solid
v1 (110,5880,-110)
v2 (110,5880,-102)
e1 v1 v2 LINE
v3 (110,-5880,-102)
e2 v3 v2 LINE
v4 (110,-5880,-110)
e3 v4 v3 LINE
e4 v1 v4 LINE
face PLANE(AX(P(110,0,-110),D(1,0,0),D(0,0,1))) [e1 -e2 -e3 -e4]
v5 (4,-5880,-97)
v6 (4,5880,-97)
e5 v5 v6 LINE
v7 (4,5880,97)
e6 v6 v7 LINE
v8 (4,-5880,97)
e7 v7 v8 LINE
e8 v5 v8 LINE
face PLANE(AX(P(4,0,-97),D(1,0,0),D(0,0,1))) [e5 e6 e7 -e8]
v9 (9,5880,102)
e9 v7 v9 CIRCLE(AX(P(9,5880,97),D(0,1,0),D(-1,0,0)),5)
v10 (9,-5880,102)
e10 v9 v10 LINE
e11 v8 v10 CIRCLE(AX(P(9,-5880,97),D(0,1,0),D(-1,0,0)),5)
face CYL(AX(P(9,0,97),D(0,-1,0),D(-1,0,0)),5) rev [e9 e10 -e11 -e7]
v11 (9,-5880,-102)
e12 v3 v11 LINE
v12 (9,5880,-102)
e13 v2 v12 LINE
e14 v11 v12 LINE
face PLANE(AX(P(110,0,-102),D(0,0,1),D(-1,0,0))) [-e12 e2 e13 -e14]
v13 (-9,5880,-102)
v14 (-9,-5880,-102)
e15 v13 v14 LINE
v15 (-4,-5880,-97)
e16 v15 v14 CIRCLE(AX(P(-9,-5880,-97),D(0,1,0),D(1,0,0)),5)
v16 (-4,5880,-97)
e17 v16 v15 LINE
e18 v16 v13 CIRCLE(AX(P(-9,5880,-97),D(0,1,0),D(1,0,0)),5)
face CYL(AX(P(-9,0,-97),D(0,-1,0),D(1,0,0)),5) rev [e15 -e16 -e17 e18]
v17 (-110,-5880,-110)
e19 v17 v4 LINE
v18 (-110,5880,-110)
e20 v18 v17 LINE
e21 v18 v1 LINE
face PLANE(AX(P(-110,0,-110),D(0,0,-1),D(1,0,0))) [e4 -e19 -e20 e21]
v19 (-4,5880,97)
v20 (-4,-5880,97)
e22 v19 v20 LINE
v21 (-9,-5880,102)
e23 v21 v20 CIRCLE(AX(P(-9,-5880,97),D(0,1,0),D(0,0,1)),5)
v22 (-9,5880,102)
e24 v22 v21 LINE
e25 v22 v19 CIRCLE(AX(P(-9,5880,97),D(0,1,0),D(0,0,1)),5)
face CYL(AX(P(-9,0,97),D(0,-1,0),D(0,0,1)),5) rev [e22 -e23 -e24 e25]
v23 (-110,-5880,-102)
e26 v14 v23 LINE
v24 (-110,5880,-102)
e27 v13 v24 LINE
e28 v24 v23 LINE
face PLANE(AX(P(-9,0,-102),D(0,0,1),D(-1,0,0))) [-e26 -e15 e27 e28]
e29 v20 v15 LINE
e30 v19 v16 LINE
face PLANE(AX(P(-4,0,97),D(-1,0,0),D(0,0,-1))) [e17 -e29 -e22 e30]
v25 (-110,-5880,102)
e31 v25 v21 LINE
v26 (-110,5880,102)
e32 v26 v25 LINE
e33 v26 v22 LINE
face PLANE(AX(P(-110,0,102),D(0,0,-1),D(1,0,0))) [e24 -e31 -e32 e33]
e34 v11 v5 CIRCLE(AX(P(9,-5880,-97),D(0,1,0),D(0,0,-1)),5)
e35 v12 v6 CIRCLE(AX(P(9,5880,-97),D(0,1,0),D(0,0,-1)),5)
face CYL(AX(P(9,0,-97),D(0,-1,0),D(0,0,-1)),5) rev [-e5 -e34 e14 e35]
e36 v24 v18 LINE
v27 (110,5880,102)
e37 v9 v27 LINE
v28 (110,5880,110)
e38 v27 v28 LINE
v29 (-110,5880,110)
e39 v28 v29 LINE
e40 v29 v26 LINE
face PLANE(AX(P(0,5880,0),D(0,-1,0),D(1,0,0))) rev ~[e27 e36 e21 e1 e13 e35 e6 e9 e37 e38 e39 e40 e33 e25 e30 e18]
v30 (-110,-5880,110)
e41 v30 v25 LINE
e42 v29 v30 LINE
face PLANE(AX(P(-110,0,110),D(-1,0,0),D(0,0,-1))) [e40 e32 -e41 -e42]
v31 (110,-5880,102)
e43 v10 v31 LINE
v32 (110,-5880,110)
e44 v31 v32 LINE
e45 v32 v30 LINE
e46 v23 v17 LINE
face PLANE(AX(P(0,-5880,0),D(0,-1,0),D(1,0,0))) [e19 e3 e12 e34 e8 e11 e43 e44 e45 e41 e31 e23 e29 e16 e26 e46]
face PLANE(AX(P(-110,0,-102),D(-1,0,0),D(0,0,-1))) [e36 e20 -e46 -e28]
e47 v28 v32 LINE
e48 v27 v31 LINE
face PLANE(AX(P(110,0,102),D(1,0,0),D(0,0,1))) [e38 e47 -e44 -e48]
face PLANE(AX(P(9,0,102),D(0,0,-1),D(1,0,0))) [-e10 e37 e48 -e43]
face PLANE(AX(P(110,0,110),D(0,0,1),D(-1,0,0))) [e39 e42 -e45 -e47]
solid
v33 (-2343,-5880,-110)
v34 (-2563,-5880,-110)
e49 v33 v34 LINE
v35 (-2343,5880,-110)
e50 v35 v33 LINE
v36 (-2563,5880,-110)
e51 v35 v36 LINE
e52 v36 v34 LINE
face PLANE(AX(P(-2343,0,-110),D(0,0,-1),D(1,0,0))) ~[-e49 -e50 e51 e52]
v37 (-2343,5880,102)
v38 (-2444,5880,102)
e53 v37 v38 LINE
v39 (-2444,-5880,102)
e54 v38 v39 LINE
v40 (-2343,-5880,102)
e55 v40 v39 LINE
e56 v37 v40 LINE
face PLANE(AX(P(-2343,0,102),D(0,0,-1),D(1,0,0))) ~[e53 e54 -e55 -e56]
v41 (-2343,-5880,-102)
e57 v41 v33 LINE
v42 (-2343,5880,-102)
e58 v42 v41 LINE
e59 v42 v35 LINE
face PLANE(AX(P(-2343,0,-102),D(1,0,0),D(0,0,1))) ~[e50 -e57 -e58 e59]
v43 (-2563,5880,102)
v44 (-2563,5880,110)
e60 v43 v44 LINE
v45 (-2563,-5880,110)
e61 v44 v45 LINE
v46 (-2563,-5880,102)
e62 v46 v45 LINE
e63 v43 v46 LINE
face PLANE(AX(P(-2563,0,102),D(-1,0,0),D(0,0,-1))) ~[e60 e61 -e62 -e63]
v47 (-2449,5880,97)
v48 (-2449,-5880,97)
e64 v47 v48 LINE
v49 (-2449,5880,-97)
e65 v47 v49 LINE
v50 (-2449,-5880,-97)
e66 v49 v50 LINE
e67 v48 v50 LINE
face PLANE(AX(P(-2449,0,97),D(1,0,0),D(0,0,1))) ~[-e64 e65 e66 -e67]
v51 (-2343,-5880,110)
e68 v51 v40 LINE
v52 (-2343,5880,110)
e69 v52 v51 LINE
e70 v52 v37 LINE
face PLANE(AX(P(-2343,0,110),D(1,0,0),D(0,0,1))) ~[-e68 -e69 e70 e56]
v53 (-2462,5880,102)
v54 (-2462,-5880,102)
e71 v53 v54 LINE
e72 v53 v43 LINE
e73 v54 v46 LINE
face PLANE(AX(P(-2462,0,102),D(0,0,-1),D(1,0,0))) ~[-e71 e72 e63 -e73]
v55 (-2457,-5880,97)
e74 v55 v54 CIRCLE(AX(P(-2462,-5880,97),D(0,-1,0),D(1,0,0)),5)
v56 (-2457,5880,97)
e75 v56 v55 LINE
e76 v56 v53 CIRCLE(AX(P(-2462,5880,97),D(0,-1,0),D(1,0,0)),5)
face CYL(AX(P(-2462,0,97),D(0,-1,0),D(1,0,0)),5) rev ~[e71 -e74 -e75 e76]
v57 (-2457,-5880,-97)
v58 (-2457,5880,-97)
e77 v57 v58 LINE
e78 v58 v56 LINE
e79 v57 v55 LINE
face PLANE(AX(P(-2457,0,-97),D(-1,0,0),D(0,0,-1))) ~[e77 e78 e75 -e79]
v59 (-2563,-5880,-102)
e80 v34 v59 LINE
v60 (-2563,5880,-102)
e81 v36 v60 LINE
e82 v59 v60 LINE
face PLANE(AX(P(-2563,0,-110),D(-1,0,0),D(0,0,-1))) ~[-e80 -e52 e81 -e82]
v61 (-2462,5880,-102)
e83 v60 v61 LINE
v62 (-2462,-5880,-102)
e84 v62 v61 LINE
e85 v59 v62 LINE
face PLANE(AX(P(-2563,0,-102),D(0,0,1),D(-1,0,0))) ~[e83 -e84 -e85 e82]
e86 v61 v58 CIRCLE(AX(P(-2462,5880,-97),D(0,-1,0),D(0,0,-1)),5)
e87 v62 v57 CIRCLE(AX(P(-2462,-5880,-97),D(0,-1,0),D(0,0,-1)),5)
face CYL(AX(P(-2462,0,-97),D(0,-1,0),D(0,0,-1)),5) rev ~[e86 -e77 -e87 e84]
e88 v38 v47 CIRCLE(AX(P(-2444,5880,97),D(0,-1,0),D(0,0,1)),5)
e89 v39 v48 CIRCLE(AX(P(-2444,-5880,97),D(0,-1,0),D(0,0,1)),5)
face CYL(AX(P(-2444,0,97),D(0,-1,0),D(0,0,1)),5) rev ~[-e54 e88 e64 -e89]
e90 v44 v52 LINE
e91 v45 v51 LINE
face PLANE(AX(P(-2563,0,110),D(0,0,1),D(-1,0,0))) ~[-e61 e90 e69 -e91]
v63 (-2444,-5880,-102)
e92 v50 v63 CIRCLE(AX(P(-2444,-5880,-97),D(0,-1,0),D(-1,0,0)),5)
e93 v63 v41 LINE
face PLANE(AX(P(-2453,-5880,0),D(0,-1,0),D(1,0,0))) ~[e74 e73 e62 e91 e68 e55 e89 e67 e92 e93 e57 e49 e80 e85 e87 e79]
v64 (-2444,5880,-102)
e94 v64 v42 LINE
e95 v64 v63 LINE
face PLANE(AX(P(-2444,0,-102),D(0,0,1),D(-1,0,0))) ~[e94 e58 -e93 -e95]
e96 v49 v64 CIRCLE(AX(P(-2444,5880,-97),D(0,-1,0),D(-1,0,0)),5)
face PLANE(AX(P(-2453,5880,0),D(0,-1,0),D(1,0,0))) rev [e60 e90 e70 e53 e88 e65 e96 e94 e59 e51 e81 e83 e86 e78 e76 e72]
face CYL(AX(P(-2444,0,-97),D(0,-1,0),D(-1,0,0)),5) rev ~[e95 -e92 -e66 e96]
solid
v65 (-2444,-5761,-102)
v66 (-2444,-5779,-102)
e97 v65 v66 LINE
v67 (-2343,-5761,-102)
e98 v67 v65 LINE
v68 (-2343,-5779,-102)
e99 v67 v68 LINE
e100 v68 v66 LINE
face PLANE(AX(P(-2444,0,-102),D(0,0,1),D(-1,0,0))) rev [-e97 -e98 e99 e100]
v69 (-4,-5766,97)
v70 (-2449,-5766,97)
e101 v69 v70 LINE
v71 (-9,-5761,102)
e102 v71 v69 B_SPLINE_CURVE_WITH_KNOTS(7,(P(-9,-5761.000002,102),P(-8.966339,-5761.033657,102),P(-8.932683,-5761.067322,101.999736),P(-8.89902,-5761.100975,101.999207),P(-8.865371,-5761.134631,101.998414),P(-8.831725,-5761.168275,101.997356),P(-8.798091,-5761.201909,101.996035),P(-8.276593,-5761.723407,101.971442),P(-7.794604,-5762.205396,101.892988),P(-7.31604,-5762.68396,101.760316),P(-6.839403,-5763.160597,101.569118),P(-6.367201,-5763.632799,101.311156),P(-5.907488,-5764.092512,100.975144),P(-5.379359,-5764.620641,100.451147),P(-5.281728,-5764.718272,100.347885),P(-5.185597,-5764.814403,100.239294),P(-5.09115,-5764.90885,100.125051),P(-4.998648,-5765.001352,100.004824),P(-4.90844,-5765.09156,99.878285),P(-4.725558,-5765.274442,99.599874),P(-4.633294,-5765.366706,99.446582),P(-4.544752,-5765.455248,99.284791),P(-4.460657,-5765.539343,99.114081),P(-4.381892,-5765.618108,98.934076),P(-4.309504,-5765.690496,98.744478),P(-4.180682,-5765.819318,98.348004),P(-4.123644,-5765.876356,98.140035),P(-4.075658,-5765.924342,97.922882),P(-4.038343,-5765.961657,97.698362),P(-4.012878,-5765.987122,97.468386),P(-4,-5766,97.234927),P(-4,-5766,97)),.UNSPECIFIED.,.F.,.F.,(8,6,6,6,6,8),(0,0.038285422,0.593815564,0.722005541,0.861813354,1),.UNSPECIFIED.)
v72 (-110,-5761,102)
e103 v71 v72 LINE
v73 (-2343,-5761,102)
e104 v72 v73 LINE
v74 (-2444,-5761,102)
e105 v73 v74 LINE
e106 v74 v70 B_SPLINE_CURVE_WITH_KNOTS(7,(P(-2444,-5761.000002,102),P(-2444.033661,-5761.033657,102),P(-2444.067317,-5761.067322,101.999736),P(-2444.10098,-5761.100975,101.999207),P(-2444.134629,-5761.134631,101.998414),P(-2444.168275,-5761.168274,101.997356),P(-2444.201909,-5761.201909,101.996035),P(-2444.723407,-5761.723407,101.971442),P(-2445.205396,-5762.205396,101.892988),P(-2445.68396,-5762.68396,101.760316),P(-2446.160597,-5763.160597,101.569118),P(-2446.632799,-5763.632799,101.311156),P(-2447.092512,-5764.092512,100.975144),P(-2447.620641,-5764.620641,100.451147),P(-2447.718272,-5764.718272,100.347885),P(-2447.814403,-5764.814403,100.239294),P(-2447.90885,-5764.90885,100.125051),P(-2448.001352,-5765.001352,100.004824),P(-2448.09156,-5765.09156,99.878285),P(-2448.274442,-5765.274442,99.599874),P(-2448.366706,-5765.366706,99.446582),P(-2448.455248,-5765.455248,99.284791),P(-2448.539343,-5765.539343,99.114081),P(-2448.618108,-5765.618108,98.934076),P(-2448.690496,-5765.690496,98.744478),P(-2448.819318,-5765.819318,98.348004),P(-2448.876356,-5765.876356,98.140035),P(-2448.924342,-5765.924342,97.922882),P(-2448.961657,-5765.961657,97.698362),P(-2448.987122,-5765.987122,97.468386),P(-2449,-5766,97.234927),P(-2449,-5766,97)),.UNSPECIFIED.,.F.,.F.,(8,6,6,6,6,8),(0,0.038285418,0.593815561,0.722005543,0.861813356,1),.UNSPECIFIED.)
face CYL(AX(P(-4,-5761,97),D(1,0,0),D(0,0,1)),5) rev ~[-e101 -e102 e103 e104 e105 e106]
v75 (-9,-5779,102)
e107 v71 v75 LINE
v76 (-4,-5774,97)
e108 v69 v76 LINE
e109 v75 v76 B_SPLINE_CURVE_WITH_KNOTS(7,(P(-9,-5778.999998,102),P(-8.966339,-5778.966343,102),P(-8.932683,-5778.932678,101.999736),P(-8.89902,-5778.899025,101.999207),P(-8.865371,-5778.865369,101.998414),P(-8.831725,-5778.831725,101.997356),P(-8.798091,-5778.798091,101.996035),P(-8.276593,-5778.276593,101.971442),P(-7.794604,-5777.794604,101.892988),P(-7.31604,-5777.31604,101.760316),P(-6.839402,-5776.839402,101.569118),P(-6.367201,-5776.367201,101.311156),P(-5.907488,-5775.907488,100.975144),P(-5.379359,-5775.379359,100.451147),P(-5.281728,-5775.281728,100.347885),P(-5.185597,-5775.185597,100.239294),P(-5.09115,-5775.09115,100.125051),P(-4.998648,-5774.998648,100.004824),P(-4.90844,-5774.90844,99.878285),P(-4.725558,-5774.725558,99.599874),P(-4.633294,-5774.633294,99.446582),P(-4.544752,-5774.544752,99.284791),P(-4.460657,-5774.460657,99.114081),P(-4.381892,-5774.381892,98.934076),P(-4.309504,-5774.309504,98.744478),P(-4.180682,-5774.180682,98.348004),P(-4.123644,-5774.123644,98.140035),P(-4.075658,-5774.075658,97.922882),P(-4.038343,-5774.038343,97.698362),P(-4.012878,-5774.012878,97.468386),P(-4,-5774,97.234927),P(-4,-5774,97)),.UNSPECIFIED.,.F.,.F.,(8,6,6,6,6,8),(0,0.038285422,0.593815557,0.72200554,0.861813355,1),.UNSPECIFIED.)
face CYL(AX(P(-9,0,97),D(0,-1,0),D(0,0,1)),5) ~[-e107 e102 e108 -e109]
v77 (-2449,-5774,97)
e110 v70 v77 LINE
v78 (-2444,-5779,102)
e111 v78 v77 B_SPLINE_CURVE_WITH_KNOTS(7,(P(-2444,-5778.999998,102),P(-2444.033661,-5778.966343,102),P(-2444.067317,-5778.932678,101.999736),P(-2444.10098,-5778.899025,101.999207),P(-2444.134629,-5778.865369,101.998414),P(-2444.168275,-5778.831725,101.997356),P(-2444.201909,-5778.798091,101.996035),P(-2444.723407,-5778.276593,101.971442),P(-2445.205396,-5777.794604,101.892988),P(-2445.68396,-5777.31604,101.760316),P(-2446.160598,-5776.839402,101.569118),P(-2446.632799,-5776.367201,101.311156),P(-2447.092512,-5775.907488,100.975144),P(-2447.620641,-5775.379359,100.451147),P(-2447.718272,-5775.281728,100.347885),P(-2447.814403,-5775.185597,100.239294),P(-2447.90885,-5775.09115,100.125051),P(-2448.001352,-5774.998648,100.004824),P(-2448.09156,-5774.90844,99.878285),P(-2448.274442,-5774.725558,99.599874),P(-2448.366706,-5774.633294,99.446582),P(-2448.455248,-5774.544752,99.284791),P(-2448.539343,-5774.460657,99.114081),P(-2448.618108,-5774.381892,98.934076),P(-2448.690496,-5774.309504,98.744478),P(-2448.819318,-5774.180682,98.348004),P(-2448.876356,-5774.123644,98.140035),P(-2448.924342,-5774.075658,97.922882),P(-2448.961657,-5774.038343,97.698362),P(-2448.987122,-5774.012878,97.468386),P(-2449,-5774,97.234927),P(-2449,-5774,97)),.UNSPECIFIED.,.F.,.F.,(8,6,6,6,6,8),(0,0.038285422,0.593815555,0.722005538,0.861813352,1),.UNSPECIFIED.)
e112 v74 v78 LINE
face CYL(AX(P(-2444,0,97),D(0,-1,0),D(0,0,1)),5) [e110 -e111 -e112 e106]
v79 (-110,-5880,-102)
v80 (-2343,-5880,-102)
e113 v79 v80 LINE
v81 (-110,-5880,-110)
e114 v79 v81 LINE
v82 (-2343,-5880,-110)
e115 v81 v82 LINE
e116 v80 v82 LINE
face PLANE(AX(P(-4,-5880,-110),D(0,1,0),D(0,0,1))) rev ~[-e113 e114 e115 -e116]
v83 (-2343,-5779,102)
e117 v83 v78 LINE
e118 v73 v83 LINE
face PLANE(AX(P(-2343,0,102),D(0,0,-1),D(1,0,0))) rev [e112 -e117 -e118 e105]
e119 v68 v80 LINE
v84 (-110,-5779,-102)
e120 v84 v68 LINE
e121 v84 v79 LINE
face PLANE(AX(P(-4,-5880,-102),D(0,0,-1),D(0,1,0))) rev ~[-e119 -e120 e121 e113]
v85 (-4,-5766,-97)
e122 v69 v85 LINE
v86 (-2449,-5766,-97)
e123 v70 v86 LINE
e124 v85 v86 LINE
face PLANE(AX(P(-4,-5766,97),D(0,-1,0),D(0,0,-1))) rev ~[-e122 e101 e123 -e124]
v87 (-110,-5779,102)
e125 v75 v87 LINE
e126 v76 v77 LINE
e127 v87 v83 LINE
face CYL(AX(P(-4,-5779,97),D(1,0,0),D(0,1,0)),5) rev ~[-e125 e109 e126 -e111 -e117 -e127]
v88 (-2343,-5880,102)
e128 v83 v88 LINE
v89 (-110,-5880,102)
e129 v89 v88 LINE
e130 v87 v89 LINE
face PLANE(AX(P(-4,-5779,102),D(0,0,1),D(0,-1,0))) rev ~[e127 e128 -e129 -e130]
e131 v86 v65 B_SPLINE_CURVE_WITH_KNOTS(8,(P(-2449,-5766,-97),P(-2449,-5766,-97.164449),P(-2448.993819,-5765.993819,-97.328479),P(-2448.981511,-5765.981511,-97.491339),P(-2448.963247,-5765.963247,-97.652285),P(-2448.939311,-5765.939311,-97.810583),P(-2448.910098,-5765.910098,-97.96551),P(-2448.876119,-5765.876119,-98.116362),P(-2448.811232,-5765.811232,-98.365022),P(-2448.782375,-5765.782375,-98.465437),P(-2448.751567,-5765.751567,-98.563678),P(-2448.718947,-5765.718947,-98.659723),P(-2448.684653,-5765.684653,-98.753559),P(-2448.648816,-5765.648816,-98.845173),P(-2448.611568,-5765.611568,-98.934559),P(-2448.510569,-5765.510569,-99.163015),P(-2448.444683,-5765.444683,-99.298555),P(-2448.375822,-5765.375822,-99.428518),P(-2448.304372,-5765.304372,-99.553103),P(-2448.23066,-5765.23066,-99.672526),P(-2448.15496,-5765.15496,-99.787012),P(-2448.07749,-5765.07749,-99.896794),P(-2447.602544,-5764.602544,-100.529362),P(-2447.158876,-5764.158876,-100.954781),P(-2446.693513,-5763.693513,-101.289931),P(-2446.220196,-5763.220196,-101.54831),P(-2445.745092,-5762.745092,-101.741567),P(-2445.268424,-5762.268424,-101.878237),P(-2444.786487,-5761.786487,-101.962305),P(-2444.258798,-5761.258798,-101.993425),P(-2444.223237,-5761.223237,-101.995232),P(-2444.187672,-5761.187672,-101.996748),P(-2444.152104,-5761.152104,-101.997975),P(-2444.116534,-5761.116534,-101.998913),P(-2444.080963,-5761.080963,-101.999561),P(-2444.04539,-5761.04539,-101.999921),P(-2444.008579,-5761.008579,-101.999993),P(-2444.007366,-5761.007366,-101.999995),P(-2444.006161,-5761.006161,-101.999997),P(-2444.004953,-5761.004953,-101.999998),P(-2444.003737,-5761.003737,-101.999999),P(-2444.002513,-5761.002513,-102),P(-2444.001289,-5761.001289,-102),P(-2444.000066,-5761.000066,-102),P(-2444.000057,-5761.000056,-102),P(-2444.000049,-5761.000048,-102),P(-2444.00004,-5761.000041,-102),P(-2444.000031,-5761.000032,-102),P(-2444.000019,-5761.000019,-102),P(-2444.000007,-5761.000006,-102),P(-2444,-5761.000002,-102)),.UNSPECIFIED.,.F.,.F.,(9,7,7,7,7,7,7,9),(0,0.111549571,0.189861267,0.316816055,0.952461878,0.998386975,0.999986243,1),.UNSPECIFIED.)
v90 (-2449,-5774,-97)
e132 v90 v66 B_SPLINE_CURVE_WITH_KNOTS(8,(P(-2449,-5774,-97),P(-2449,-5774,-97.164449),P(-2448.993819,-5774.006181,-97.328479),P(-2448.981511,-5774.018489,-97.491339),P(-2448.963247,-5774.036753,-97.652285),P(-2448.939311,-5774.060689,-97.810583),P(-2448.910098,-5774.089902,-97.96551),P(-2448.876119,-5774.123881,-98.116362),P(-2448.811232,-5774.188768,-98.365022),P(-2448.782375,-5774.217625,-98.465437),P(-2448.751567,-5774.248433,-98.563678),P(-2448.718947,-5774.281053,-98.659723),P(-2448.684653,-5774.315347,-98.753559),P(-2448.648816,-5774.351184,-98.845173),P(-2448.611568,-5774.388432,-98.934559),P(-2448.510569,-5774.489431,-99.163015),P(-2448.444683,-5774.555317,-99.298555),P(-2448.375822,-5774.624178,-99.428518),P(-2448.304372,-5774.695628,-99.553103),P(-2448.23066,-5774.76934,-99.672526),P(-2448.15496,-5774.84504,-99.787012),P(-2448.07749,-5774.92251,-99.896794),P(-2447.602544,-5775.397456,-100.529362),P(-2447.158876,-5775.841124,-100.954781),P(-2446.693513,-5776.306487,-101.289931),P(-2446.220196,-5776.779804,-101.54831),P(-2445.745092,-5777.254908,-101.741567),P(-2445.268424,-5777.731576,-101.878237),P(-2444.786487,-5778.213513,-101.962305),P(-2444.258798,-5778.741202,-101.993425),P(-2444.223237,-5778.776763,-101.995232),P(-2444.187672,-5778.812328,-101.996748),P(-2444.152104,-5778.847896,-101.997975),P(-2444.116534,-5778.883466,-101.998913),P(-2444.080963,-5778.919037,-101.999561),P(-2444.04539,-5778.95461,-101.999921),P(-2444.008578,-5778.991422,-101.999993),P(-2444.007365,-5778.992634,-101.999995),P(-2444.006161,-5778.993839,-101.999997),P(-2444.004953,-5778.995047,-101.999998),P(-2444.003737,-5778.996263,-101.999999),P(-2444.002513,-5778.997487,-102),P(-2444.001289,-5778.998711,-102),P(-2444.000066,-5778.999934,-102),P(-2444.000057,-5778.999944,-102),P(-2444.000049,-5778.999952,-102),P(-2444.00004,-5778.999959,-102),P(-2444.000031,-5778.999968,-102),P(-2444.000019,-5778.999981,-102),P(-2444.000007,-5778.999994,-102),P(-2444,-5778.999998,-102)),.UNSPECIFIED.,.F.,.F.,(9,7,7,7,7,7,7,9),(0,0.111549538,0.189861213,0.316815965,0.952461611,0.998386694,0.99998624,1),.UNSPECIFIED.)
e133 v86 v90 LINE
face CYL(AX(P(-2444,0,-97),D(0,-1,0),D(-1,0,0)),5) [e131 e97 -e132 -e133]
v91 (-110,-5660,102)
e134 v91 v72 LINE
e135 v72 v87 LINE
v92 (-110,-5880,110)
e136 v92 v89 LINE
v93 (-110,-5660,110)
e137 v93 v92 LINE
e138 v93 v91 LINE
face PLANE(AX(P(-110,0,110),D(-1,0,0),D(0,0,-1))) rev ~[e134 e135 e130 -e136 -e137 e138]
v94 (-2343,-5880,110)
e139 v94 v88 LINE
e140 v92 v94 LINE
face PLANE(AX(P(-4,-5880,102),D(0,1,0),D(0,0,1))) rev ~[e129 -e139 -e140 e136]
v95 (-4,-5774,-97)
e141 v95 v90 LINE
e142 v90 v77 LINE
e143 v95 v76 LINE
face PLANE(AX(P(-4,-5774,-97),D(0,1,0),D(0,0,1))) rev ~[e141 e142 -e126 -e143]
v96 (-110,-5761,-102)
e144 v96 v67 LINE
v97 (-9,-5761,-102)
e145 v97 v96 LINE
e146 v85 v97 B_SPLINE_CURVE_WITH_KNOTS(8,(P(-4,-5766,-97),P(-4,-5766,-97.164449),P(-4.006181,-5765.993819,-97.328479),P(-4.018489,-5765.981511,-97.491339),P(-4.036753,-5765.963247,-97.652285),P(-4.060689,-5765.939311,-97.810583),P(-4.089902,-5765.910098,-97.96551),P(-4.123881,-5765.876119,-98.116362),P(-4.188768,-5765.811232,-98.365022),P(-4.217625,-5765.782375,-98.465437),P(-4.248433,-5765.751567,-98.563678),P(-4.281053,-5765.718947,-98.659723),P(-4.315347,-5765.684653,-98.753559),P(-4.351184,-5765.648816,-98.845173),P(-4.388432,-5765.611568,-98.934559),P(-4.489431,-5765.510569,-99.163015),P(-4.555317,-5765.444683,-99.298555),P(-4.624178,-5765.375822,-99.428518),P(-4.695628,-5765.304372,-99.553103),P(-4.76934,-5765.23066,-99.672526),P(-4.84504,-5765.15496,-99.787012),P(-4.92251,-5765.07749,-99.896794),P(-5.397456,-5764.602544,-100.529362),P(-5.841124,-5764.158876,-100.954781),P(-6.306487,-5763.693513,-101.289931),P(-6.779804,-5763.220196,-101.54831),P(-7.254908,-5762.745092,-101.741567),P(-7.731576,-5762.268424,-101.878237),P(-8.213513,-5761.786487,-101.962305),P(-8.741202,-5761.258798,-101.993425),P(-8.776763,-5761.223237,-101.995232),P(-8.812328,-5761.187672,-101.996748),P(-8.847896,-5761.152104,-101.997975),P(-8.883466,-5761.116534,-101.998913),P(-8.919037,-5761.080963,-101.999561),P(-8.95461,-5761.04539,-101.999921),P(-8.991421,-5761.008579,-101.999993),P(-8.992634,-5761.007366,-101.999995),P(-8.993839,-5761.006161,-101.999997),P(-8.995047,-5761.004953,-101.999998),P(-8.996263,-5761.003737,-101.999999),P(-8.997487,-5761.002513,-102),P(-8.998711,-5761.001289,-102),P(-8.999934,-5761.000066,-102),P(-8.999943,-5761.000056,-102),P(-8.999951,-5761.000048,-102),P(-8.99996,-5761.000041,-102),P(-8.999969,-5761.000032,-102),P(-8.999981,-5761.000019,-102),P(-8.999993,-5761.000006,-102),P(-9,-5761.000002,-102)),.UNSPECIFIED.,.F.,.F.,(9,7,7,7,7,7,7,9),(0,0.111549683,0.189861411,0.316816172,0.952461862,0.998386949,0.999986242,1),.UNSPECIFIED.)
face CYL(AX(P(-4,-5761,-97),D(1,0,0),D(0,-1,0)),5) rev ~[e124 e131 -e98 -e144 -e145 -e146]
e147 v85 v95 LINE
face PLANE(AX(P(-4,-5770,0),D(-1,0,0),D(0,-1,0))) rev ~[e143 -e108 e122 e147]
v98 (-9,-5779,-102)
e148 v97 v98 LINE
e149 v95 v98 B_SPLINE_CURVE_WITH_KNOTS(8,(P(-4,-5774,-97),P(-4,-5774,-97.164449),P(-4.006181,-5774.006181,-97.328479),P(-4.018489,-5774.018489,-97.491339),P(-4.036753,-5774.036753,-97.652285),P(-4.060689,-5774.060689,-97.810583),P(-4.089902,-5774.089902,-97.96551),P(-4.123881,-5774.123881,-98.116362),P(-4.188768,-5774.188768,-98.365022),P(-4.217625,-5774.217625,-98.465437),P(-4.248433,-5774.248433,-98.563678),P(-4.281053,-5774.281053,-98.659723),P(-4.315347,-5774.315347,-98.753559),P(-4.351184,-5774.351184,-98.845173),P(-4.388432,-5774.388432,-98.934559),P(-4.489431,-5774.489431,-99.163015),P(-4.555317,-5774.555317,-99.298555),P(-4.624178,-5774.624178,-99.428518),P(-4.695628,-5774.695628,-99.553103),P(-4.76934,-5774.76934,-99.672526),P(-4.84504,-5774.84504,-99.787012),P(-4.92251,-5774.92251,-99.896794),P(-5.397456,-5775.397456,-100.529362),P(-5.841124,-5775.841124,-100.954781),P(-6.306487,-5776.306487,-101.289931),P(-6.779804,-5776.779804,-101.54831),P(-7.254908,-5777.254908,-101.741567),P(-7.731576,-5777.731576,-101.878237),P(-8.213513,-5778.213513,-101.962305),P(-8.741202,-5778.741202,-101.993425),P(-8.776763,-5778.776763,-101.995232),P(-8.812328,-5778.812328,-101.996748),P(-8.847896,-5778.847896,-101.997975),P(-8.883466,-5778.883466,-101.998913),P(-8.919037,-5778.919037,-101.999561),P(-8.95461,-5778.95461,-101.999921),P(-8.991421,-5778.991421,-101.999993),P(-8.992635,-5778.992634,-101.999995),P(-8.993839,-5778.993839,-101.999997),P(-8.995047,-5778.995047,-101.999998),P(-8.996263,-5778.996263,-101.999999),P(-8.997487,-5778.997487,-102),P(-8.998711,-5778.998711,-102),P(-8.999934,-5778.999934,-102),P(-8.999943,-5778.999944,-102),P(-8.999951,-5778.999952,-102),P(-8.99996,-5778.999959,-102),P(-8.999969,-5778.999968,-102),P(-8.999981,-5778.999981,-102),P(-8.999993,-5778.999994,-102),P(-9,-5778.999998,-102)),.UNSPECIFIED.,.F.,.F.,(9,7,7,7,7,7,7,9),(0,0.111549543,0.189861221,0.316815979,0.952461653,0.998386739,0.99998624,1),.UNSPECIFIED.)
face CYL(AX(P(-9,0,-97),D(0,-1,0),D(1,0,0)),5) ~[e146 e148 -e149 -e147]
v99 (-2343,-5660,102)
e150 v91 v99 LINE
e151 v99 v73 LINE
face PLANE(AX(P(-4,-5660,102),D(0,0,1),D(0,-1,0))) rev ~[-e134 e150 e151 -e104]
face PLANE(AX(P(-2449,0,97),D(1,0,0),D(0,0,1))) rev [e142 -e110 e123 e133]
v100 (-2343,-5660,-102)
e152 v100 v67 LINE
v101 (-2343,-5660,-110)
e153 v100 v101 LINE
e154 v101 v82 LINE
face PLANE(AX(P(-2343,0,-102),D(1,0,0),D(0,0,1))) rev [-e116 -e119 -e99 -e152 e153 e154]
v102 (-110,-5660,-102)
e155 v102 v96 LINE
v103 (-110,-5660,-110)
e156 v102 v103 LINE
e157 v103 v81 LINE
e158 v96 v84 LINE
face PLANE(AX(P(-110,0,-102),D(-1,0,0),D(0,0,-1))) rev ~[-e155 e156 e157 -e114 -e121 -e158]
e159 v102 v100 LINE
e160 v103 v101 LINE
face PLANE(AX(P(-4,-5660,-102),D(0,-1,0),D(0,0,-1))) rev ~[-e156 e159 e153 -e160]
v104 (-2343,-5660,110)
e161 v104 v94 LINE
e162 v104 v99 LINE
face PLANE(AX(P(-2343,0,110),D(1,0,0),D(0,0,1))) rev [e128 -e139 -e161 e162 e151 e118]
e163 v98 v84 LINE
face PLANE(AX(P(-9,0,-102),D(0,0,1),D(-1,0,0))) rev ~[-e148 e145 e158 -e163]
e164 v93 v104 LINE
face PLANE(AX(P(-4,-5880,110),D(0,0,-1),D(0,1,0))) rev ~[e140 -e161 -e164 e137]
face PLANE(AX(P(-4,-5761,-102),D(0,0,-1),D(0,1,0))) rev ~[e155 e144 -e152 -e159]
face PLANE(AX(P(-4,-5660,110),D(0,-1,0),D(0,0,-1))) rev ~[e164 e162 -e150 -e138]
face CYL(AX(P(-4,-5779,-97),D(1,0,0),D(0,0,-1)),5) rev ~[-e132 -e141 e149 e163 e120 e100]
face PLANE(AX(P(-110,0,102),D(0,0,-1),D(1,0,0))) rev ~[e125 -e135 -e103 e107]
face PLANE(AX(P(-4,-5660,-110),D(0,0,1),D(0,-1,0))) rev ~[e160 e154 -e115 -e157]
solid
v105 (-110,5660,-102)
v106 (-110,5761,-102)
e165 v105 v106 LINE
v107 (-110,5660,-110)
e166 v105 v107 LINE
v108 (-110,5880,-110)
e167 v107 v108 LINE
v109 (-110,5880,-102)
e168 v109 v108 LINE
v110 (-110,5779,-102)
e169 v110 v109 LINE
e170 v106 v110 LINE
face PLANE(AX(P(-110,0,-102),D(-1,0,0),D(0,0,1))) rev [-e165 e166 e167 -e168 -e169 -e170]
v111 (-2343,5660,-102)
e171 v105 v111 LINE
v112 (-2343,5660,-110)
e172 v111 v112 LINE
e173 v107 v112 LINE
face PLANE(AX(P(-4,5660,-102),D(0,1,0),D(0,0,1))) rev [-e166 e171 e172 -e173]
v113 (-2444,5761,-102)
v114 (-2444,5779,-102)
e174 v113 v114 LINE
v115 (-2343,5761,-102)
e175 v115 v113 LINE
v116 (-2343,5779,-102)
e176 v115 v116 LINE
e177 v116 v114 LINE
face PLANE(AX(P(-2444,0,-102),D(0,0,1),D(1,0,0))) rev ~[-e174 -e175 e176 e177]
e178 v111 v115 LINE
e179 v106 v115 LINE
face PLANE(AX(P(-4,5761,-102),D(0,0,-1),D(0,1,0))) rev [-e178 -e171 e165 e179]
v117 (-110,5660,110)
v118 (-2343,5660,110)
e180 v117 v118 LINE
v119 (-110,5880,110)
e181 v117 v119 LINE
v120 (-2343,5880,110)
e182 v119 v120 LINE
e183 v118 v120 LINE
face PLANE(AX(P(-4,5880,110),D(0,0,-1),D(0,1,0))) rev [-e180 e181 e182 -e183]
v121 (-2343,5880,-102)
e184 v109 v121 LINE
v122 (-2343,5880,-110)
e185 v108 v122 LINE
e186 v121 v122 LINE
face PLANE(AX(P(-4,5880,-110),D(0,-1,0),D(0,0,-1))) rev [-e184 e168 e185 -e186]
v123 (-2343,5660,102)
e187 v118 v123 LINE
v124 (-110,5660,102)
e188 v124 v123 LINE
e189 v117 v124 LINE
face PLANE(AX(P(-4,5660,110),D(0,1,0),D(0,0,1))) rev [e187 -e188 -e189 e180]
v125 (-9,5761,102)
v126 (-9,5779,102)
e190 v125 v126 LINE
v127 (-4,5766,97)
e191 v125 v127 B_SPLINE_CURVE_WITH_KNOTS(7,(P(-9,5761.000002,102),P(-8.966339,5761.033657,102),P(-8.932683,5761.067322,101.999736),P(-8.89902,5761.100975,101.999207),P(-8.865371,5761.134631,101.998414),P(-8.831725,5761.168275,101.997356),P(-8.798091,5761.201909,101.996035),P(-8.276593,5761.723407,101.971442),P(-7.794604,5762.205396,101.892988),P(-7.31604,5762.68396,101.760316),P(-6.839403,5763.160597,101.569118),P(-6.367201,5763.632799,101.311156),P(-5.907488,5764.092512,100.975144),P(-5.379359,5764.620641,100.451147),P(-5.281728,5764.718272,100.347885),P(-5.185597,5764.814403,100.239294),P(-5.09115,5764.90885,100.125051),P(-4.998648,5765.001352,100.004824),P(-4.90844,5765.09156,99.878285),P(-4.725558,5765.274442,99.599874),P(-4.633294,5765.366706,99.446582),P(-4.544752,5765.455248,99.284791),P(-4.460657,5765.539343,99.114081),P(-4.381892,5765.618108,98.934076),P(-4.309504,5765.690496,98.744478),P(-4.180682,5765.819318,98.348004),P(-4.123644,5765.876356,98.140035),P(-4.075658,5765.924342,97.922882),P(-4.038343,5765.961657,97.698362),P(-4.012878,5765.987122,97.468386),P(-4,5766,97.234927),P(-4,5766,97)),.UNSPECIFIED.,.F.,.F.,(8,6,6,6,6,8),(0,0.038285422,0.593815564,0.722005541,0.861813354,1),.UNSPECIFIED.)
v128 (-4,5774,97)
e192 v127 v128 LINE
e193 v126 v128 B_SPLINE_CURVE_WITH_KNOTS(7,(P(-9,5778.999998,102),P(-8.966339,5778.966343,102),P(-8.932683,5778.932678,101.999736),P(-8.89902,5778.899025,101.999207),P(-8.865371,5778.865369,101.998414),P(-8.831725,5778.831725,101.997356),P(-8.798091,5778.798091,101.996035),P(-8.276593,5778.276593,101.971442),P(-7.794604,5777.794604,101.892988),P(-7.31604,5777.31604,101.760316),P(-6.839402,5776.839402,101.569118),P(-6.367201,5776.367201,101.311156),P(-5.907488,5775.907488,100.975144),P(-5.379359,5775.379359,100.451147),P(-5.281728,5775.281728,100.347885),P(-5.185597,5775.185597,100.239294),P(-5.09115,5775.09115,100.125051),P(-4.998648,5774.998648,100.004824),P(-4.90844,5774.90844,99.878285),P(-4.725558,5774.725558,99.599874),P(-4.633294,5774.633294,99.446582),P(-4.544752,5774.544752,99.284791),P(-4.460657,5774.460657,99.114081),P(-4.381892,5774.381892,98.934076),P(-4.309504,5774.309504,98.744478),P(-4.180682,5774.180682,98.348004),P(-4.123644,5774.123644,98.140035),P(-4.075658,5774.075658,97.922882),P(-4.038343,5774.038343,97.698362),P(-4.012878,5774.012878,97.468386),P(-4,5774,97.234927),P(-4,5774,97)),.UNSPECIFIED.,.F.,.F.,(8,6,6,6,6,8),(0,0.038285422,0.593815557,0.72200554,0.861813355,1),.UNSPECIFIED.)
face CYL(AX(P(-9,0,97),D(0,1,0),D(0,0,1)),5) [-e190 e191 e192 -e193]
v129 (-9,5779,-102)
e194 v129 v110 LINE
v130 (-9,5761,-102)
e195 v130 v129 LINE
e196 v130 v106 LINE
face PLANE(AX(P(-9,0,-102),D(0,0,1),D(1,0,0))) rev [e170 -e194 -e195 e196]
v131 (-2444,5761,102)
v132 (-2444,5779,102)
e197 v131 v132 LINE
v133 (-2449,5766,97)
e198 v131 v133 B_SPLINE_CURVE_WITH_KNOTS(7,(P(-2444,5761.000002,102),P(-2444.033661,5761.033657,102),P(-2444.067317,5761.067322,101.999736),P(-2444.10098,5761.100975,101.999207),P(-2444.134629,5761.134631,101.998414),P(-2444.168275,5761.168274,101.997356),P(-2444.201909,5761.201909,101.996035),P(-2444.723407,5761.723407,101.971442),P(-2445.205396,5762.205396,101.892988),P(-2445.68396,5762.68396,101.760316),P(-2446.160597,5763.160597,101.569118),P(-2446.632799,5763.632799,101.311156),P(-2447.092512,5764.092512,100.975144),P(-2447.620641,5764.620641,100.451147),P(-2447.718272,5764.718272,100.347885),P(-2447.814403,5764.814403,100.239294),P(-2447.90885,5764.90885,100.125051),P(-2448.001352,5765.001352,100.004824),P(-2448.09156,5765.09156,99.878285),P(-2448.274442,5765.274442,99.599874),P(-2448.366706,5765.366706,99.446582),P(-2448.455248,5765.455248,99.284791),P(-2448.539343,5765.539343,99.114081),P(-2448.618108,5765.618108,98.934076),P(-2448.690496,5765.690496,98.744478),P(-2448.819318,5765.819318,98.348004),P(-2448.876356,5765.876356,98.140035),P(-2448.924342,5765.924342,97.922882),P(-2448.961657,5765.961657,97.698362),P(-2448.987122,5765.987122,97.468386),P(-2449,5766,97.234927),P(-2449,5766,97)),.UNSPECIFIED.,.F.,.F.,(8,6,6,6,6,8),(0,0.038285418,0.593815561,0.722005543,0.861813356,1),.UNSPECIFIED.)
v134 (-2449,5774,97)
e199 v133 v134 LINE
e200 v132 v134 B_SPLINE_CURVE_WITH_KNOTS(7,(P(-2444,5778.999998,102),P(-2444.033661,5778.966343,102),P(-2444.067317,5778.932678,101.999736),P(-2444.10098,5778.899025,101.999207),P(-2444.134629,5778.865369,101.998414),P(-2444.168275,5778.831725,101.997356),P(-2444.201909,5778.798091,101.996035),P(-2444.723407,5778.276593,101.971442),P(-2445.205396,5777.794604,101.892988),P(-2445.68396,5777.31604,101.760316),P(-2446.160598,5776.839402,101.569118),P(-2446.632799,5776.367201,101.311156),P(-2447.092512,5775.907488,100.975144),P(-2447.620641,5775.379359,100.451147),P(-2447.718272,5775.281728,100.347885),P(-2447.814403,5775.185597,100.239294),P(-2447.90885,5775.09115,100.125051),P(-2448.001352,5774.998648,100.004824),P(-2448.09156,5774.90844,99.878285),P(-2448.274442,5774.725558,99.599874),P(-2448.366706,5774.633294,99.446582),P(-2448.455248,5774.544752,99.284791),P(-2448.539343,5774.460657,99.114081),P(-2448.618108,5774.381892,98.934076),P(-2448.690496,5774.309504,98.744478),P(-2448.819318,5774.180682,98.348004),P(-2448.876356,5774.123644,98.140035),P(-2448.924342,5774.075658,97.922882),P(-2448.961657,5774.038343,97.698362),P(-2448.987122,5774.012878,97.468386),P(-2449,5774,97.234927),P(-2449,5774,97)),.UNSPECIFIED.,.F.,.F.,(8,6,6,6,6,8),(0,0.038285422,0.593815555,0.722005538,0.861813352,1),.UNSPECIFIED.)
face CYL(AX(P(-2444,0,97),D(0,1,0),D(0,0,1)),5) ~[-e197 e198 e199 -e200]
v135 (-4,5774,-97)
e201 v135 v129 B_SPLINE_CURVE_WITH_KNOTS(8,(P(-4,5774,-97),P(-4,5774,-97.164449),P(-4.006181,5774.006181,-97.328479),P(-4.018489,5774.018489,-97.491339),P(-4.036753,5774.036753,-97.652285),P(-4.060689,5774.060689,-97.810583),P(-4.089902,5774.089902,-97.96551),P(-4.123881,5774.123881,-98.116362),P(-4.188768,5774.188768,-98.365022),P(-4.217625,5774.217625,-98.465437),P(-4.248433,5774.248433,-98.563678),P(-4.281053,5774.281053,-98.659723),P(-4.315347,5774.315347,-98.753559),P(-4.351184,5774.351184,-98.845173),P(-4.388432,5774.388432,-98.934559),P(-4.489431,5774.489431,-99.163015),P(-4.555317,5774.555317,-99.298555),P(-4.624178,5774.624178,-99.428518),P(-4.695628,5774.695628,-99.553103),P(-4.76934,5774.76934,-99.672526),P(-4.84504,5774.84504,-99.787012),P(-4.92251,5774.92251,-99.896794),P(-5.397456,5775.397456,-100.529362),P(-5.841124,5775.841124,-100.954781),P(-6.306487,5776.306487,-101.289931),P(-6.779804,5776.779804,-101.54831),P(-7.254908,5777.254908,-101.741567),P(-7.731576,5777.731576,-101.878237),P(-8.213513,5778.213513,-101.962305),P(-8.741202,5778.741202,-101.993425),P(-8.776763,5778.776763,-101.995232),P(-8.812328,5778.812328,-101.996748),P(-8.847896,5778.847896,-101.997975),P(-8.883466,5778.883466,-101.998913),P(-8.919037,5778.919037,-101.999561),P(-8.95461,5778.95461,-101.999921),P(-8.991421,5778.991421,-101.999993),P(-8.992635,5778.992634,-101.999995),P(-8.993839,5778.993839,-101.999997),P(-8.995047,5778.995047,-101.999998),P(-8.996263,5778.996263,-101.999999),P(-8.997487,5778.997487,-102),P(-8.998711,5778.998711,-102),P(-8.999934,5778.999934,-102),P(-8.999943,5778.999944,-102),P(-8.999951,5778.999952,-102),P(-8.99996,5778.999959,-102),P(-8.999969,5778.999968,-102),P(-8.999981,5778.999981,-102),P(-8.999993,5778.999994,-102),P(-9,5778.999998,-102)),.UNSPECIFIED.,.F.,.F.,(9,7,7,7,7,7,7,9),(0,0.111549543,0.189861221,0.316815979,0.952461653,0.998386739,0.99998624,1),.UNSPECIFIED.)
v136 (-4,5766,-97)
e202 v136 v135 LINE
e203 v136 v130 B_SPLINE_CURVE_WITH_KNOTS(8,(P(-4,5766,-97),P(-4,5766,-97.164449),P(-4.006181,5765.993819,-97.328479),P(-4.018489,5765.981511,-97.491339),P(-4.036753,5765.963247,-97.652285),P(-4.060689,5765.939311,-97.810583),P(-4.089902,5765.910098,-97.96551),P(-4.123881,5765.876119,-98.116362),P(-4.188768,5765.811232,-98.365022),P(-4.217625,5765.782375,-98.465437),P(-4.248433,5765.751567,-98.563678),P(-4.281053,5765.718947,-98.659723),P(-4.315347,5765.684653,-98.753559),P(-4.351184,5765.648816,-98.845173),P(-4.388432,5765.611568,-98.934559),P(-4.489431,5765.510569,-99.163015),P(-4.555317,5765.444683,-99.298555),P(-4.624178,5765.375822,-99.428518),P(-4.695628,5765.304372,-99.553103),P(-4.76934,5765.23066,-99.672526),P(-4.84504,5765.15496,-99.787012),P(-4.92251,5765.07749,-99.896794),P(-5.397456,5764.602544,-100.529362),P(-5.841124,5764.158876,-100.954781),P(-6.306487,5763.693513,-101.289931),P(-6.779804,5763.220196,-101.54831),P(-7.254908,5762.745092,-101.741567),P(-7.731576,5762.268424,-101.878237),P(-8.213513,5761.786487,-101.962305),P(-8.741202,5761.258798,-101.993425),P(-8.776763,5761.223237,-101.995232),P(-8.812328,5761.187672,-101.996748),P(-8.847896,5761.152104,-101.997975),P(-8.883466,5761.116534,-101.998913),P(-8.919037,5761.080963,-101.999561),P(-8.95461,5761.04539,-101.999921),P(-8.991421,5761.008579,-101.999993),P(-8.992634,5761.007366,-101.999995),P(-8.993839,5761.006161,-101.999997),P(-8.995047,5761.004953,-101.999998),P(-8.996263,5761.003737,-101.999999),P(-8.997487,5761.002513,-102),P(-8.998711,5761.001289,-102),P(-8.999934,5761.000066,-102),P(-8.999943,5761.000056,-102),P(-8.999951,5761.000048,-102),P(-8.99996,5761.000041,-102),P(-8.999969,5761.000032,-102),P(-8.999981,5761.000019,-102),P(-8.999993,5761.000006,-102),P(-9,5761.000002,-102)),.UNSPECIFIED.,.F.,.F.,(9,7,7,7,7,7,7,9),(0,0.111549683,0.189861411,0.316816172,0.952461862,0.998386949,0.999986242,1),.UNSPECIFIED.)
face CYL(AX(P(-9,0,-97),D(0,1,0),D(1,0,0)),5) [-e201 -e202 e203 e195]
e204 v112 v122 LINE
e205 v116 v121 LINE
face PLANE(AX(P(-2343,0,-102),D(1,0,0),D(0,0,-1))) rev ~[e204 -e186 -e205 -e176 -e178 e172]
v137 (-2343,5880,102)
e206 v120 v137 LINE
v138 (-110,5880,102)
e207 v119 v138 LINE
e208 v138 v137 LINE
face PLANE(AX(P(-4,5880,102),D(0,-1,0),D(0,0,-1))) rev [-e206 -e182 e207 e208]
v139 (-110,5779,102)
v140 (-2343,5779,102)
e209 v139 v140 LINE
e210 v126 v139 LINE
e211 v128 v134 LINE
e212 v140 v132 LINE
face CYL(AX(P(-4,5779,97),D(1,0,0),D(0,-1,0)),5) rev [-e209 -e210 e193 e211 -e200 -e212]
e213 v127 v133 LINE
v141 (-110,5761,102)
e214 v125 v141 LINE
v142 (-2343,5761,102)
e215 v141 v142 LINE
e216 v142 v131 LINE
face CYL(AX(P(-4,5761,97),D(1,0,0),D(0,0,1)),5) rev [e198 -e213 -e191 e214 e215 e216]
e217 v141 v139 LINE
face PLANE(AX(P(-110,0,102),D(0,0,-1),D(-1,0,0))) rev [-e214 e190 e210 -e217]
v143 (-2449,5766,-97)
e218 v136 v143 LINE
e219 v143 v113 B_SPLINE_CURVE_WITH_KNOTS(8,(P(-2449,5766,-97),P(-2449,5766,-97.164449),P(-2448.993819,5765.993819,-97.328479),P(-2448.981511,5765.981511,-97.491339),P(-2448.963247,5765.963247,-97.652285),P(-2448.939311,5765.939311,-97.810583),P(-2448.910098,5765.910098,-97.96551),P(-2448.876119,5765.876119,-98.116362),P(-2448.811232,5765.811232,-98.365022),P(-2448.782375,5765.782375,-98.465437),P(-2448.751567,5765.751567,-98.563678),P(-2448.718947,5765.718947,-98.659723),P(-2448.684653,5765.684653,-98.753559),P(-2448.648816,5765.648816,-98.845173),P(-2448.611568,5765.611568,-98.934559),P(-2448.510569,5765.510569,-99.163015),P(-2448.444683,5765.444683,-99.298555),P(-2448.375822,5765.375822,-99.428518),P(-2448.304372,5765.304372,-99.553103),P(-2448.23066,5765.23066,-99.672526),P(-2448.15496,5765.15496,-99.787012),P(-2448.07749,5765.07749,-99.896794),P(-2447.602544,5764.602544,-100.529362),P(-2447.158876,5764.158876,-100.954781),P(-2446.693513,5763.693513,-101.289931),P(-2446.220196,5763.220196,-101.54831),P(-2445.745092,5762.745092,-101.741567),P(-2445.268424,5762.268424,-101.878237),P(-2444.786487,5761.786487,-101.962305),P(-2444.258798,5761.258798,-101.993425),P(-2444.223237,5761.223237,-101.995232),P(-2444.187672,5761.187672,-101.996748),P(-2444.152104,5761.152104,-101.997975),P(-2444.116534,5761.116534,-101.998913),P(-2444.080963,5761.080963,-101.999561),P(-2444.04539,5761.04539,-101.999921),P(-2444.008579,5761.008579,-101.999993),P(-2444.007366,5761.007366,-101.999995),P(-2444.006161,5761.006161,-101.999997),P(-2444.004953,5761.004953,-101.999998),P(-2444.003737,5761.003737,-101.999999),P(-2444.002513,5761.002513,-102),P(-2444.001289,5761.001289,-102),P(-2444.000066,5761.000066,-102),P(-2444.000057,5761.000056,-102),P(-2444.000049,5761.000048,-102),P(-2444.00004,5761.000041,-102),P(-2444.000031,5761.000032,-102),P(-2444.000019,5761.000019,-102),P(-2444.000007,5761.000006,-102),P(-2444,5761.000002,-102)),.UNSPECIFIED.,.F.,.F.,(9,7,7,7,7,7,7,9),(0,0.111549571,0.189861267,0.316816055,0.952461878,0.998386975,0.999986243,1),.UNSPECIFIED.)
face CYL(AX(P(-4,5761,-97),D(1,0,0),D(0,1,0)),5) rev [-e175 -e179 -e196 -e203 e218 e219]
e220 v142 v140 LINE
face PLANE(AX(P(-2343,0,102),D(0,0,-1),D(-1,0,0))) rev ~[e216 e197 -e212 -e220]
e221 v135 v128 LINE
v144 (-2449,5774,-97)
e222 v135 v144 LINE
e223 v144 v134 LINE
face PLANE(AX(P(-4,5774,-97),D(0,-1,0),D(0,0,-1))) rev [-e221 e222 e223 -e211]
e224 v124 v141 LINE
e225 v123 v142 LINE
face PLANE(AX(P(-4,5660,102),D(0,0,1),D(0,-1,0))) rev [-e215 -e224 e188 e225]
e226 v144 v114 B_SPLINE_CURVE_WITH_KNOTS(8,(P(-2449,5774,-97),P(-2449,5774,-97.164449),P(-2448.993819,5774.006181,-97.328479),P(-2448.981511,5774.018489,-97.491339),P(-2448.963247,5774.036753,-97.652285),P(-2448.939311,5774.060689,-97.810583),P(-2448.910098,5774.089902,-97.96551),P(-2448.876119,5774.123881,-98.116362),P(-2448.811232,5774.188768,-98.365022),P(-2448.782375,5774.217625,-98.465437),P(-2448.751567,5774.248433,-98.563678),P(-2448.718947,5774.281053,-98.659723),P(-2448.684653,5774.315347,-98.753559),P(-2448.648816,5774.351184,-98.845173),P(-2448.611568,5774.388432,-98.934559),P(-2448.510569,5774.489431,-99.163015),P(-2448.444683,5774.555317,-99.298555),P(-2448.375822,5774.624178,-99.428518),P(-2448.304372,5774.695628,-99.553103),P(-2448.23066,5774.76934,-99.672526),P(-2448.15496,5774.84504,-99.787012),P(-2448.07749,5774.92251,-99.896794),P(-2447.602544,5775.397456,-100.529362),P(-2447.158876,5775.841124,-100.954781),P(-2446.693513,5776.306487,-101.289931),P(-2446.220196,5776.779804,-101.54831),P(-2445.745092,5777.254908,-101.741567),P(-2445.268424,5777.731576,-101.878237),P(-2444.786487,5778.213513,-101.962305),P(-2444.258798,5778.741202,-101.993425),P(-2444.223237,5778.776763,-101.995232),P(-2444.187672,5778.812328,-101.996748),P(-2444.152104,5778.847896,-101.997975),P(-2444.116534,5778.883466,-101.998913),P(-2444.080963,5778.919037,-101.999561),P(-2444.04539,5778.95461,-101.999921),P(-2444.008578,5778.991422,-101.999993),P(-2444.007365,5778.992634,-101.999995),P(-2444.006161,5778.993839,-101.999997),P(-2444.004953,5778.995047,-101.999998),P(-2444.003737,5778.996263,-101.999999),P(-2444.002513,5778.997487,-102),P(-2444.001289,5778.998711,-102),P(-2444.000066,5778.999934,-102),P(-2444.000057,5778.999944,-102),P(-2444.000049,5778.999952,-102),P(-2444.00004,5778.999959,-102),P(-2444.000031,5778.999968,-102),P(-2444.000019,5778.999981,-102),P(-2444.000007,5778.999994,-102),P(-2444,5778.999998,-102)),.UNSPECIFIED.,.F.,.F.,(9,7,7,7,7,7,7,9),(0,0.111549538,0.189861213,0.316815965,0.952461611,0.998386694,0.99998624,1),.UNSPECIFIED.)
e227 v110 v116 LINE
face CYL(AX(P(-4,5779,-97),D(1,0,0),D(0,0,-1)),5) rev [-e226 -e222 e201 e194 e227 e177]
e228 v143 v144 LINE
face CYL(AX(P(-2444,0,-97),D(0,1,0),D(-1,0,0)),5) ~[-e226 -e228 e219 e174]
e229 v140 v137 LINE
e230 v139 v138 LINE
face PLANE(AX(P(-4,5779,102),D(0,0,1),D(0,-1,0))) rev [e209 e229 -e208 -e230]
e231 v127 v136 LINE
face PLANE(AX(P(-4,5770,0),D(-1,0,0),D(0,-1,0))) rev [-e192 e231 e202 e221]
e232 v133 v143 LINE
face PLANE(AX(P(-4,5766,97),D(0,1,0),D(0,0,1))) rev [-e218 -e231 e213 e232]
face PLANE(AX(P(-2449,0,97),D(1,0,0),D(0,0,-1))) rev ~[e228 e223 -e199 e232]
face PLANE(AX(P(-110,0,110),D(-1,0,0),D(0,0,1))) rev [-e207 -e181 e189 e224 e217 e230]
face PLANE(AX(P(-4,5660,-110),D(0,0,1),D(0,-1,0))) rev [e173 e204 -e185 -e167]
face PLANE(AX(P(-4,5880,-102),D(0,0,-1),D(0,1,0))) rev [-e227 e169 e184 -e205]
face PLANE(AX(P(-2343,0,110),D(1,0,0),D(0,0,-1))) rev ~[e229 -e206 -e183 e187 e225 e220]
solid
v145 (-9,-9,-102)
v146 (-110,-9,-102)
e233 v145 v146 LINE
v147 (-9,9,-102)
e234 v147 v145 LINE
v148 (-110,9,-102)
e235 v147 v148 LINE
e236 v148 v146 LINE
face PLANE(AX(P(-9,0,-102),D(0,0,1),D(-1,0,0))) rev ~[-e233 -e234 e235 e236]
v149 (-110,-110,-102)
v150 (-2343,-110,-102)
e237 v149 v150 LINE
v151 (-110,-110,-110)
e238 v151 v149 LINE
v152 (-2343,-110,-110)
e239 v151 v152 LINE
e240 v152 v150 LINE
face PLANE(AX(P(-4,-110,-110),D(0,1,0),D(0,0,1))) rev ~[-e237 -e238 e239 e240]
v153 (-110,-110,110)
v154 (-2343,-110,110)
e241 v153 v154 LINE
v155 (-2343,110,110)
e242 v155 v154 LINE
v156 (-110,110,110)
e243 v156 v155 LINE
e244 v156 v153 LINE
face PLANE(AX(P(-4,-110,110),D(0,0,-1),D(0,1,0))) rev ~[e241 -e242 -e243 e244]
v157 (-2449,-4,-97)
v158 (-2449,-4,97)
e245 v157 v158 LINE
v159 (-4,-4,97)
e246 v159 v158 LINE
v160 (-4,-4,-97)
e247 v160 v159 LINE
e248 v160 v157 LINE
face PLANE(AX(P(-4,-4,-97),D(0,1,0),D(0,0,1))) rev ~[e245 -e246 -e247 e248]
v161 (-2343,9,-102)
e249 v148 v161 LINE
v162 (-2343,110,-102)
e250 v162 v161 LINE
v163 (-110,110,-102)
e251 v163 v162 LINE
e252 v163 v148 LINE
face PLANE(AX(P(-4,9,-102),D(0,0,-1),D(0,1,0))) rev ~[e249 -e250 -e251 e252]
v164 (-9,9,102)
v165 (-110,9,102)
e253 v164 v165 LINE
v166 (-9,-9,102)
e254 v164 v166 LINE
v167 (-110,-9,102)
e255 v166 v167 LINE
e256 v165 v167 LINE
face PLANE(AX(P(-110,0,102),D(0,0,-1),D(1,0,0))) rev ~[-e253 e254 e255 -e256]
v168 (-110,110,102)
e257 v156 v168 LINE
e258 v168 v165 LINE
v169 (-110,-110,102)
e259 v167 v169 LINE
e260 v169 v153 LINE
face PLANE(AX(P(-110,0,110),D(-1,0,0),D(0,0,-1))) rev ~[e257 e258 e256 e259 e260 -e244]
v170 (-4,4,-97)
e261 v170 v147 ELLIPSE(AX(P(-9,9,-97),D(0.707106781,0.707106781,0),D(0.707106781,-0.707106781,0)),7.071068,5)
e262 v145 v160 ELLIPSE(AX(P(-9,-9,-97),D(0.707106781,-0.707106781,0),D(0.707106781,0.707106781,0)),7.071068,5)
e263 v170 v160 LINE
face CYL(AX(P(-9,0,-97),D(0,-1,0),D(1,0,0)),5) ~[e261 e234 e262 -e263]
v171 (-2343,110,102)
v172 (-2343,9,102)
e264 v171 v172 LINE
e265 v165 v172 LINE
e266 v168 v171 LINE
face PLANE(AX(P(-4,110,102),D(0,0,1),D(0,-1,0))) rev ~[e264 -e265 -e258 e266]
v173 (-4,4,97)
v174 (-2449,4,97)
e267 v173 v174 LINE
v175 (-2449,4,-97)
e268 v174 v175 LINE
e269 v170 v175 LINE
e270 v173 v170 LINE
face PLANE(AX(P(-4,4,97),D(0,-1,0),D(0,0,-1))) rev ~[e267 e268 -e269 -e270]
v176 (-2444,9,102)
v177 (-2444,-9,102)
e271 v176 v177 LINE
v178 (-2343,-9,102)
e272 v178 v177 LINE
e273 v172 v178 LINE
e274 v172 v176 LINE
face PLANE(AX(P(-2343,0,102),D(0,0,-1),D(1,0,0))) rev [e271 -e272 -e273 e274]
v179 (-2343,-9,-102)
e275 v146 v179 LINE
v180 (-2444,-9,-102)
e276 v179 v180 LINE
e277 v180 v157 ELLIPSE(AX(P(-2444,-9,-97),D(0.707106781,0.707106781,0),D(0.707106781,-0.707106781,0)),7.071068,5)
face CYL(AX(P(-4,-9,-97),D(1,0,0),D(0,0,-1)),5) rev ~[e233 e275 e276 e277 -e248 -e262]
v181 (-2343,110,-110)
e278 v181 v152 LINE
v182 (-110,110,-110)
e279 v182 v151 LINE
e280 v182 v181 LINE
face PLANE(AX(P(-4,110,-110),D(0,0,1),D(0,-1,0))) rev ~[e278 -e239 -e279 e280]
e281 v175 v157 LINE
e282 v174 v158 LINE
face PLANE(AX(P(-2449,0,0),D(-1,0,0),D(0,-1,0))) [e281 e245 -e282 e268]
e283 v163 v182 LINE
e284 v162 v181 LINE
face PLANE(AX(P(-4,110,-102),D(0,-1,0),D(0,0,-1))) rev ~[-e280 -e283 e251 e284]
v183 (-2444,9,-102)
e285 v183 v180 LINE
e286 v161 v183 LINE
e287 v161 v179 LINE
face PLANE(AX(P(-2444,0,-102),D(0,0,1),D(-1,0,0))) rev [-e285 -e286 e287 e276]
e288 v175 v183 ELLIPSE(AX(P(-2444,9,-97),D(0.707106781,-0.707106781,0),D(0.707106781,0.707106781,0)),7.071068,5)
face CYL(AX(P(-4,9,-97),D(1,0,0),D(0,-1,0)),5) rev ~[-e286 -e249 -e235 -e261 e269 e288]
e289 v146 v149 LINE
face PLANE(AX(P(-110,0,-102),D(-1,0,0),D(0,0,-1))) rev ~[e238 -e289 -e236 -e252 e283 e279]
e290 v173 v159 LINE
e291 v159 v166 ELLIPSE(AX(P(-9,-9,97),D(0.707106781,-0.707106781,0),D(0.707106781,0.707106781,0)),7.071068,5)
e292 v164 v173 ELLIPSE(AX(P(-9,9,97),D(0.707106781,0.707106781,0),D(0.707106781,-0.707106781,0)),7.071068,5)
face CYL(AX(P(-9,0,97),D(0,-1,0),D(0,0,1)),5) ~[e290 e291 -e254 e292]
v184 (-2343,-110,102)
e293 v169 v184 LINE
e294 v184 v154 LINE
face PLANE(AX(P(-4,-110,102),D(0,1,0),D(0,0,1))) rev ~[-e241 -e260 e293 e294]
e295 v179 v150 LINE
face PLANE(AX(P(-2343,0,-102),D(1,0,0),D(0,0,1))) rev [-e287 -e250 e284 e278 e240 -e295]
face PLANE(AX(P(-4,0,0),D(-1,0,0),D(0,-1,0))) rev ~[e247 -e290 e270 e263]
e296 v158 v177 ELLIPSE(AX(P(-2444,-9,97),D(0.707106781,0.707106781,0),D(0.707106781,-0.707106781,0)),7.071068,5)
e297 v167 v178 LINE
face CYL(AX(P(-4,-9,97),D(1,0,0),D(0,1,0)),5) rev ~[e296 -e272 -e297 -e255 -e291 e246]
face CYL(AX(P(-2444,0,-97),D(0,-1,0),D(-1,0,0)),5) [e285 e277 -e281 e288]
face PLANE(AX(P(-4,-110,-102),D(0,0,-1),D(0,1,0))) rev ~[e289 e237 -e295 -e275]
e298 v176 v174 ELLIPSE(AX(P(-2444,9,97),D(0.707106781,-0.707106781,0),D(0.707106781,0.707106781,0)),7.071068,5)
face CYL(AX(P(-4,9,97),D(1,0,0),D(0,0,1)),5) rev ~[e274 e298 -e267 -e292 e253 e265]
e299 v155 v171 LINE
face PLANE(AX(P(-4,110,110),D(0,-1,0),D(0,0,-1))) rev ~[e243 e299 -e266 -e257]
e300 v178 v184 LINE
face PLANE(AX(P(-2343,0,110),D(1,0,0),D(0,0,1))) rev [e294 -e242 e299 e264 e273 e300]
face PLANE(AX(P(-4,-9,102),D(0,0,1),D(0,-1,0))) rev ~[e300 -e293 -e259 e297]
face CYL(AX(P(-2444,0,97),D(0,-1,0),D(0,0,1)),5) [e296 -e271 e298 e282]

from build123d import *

# Parameters (mm, degrees)
F1_DEPTH = 5880
F3_DEPTH = 2453
F9_DEPTH = 2445


with BuildPart() as f1:
    # F0 (on Front) → F1 (new body, symmetric)
    with BuildSketch(Plane.XZ):
        with BuildLine():
            Line((4, -97), (4, 0))
            Line((4, 0), (4, 97))
            ThreePointArc((4, 97), (5.4644660941, 100.5355339059), (9, 102))
            Line((9, 102), (110, 102))
            Line((110, 102), (110, 110))
            Line((110, 110), (0, 110))
            Line((0, 110), (-110, 110))
            Line((-110, 110), (-110, 102))
            Line((-110, 102), (-9, 102))
            ThreePointArc((-9, 102), (-5.4644660941, 100.5355339059), (-4, 97))
            Line((-4, 97), (-4, 0))
            Line((-4, 0), (-4, -97))
            ThreePointArc((-4, -97), (-5.4644660941, -100.5355339059), (-9, -102))
            Line((-9, -102), (-110, -102))
            Line((-110, -102), (-110, -110))
            Line((-110, -110), (0, -110))
            Line((0, -110), (110, -110))
            Line((110, -110), (110, -102))
            Line((110, -102), (9, -102))
            ThreePointArc((9, -102), (5.4644660941, -100.5355339059), (4, -97))
        make_face()
    extrude(amount=F1_DEPTH, both=True)


with BuildPart() as f3:
    # F2 (on face) → F3 (new body)
    with BuildSketch(Plane(origin=(-4, 0, 0), x_dir=(0, -1, 0), z_dir=(-1, 0, 0))):
        with BuildLine():
            Line((5774, -97), (5774, 0))
            Line((5774, 0), (5774, 97))
            ThreePointArc((5774, 97), (5775.4644660941, 100.5355339059), (5779, 102))
            Line((5779, 102), (5880, 102))
            Line((5880, 102), (5880, 110))
            Line((5880, 110), (5770, 110))
            Line((5770, 110), (5660, 110))
            Line((5660, 110), (5660, 102))
            Line((5660, 102), (5761, 102))
            ThreePointArc((5761, 102), (5764.5355339059, 100.5355339059), (5766, 97))
            Line((5766, 97), (5766, 0))
            Line((5766, 0), (5766, -97))
            ThreePointArc((5766, -97), (5764.5355339059, -100.5355339059), (5761, -102))
            Line((5761, -102), (5660, -102))
            Line((5660, -102), (5660, -110))
            Line((5660, -110), (5770, -110))
            Line((5770, -110), (5880, -110))
            Line((5880, -110), (5880, -102))
            Line((5880, -102), (5779, -102))
            ThreePointArc((5779, -102), (5775.4644660941, -100.5355339059), (5774, -97))
        make_face()
    extrude(amount=F3_DEPTH)


with BuildPart() as f5_1:
    # F5: instance of F1
    add(f1.part.mirror(Plane.YZ.offset(-1226.5)))


with BuildPart() as f3_1:
    add(f3.part)

    # F6: cut F1, F5_1
    add(f1.part, mode=Mode.SUBTRACT)
    add(f5_1.part, mode=Mode.SUBTRACT)


with BuildPart() as f7_1:
    # F7: instance of F3
    add(f3_1.part.mirror(Plane.XZ))


with BuildPart() as f9:
    # F8 (on face) → F9 (new body, through all)
    with BuildSketch(Plane(origin=(-4, 0, 0), x_dir=(0, -1, 0), z_dir=(-1, 0, 0))):
        with BuildLine():
            Line((4, -97), (4, 0))
            Line((4, 0), (4, 97))
            ThreePointArc((4, 97), (5.4644660941, 100.5355339059), (9, 102))
            Line((9, 102), (110, 102))
            Line((110, 102), (110, 110))
            Line((110, 110), (0, 110))
            Line((0, 110), (-110, 110))
            Line((-110, 110), (-110, 102))
            Line((-110, 102), (-9, 102))
            ThreePointArc((-9, 102), (-5.4644660941, 100.5355339059), (-4, 97))
            Line((-4, 97), (-4, 0))
            Line((-4, 0), (-4, -97))
            ThreePointArc((-4, -97), (-5.4644660941, -100.5355339059), (-9, -102))
            Line((-9, -102), (-110, -102))
            Line((-110, -102), (-110, -110))
            Line((-110, -110), (0, -110))
            Line((0, -110), (110, -110))
            Line((110, -110), (110, -102))
            Line((110, -102), (9, -102))
            ThreePointArc((9, -102), (5.4644660941, -100.5355339059), (4, -97))
        make_face()
    extrude(amount=F9_DEPTH)

    # F10: cut F5_1, F1
    add(f5_1.part, mode=Mode.SUBTRACT)
    add(f1.part, mode=Mode.SUBTRACT)


solid = Compound([f1.part, f5_1.part, f3_1.part, f7_1.part, f9.part])
